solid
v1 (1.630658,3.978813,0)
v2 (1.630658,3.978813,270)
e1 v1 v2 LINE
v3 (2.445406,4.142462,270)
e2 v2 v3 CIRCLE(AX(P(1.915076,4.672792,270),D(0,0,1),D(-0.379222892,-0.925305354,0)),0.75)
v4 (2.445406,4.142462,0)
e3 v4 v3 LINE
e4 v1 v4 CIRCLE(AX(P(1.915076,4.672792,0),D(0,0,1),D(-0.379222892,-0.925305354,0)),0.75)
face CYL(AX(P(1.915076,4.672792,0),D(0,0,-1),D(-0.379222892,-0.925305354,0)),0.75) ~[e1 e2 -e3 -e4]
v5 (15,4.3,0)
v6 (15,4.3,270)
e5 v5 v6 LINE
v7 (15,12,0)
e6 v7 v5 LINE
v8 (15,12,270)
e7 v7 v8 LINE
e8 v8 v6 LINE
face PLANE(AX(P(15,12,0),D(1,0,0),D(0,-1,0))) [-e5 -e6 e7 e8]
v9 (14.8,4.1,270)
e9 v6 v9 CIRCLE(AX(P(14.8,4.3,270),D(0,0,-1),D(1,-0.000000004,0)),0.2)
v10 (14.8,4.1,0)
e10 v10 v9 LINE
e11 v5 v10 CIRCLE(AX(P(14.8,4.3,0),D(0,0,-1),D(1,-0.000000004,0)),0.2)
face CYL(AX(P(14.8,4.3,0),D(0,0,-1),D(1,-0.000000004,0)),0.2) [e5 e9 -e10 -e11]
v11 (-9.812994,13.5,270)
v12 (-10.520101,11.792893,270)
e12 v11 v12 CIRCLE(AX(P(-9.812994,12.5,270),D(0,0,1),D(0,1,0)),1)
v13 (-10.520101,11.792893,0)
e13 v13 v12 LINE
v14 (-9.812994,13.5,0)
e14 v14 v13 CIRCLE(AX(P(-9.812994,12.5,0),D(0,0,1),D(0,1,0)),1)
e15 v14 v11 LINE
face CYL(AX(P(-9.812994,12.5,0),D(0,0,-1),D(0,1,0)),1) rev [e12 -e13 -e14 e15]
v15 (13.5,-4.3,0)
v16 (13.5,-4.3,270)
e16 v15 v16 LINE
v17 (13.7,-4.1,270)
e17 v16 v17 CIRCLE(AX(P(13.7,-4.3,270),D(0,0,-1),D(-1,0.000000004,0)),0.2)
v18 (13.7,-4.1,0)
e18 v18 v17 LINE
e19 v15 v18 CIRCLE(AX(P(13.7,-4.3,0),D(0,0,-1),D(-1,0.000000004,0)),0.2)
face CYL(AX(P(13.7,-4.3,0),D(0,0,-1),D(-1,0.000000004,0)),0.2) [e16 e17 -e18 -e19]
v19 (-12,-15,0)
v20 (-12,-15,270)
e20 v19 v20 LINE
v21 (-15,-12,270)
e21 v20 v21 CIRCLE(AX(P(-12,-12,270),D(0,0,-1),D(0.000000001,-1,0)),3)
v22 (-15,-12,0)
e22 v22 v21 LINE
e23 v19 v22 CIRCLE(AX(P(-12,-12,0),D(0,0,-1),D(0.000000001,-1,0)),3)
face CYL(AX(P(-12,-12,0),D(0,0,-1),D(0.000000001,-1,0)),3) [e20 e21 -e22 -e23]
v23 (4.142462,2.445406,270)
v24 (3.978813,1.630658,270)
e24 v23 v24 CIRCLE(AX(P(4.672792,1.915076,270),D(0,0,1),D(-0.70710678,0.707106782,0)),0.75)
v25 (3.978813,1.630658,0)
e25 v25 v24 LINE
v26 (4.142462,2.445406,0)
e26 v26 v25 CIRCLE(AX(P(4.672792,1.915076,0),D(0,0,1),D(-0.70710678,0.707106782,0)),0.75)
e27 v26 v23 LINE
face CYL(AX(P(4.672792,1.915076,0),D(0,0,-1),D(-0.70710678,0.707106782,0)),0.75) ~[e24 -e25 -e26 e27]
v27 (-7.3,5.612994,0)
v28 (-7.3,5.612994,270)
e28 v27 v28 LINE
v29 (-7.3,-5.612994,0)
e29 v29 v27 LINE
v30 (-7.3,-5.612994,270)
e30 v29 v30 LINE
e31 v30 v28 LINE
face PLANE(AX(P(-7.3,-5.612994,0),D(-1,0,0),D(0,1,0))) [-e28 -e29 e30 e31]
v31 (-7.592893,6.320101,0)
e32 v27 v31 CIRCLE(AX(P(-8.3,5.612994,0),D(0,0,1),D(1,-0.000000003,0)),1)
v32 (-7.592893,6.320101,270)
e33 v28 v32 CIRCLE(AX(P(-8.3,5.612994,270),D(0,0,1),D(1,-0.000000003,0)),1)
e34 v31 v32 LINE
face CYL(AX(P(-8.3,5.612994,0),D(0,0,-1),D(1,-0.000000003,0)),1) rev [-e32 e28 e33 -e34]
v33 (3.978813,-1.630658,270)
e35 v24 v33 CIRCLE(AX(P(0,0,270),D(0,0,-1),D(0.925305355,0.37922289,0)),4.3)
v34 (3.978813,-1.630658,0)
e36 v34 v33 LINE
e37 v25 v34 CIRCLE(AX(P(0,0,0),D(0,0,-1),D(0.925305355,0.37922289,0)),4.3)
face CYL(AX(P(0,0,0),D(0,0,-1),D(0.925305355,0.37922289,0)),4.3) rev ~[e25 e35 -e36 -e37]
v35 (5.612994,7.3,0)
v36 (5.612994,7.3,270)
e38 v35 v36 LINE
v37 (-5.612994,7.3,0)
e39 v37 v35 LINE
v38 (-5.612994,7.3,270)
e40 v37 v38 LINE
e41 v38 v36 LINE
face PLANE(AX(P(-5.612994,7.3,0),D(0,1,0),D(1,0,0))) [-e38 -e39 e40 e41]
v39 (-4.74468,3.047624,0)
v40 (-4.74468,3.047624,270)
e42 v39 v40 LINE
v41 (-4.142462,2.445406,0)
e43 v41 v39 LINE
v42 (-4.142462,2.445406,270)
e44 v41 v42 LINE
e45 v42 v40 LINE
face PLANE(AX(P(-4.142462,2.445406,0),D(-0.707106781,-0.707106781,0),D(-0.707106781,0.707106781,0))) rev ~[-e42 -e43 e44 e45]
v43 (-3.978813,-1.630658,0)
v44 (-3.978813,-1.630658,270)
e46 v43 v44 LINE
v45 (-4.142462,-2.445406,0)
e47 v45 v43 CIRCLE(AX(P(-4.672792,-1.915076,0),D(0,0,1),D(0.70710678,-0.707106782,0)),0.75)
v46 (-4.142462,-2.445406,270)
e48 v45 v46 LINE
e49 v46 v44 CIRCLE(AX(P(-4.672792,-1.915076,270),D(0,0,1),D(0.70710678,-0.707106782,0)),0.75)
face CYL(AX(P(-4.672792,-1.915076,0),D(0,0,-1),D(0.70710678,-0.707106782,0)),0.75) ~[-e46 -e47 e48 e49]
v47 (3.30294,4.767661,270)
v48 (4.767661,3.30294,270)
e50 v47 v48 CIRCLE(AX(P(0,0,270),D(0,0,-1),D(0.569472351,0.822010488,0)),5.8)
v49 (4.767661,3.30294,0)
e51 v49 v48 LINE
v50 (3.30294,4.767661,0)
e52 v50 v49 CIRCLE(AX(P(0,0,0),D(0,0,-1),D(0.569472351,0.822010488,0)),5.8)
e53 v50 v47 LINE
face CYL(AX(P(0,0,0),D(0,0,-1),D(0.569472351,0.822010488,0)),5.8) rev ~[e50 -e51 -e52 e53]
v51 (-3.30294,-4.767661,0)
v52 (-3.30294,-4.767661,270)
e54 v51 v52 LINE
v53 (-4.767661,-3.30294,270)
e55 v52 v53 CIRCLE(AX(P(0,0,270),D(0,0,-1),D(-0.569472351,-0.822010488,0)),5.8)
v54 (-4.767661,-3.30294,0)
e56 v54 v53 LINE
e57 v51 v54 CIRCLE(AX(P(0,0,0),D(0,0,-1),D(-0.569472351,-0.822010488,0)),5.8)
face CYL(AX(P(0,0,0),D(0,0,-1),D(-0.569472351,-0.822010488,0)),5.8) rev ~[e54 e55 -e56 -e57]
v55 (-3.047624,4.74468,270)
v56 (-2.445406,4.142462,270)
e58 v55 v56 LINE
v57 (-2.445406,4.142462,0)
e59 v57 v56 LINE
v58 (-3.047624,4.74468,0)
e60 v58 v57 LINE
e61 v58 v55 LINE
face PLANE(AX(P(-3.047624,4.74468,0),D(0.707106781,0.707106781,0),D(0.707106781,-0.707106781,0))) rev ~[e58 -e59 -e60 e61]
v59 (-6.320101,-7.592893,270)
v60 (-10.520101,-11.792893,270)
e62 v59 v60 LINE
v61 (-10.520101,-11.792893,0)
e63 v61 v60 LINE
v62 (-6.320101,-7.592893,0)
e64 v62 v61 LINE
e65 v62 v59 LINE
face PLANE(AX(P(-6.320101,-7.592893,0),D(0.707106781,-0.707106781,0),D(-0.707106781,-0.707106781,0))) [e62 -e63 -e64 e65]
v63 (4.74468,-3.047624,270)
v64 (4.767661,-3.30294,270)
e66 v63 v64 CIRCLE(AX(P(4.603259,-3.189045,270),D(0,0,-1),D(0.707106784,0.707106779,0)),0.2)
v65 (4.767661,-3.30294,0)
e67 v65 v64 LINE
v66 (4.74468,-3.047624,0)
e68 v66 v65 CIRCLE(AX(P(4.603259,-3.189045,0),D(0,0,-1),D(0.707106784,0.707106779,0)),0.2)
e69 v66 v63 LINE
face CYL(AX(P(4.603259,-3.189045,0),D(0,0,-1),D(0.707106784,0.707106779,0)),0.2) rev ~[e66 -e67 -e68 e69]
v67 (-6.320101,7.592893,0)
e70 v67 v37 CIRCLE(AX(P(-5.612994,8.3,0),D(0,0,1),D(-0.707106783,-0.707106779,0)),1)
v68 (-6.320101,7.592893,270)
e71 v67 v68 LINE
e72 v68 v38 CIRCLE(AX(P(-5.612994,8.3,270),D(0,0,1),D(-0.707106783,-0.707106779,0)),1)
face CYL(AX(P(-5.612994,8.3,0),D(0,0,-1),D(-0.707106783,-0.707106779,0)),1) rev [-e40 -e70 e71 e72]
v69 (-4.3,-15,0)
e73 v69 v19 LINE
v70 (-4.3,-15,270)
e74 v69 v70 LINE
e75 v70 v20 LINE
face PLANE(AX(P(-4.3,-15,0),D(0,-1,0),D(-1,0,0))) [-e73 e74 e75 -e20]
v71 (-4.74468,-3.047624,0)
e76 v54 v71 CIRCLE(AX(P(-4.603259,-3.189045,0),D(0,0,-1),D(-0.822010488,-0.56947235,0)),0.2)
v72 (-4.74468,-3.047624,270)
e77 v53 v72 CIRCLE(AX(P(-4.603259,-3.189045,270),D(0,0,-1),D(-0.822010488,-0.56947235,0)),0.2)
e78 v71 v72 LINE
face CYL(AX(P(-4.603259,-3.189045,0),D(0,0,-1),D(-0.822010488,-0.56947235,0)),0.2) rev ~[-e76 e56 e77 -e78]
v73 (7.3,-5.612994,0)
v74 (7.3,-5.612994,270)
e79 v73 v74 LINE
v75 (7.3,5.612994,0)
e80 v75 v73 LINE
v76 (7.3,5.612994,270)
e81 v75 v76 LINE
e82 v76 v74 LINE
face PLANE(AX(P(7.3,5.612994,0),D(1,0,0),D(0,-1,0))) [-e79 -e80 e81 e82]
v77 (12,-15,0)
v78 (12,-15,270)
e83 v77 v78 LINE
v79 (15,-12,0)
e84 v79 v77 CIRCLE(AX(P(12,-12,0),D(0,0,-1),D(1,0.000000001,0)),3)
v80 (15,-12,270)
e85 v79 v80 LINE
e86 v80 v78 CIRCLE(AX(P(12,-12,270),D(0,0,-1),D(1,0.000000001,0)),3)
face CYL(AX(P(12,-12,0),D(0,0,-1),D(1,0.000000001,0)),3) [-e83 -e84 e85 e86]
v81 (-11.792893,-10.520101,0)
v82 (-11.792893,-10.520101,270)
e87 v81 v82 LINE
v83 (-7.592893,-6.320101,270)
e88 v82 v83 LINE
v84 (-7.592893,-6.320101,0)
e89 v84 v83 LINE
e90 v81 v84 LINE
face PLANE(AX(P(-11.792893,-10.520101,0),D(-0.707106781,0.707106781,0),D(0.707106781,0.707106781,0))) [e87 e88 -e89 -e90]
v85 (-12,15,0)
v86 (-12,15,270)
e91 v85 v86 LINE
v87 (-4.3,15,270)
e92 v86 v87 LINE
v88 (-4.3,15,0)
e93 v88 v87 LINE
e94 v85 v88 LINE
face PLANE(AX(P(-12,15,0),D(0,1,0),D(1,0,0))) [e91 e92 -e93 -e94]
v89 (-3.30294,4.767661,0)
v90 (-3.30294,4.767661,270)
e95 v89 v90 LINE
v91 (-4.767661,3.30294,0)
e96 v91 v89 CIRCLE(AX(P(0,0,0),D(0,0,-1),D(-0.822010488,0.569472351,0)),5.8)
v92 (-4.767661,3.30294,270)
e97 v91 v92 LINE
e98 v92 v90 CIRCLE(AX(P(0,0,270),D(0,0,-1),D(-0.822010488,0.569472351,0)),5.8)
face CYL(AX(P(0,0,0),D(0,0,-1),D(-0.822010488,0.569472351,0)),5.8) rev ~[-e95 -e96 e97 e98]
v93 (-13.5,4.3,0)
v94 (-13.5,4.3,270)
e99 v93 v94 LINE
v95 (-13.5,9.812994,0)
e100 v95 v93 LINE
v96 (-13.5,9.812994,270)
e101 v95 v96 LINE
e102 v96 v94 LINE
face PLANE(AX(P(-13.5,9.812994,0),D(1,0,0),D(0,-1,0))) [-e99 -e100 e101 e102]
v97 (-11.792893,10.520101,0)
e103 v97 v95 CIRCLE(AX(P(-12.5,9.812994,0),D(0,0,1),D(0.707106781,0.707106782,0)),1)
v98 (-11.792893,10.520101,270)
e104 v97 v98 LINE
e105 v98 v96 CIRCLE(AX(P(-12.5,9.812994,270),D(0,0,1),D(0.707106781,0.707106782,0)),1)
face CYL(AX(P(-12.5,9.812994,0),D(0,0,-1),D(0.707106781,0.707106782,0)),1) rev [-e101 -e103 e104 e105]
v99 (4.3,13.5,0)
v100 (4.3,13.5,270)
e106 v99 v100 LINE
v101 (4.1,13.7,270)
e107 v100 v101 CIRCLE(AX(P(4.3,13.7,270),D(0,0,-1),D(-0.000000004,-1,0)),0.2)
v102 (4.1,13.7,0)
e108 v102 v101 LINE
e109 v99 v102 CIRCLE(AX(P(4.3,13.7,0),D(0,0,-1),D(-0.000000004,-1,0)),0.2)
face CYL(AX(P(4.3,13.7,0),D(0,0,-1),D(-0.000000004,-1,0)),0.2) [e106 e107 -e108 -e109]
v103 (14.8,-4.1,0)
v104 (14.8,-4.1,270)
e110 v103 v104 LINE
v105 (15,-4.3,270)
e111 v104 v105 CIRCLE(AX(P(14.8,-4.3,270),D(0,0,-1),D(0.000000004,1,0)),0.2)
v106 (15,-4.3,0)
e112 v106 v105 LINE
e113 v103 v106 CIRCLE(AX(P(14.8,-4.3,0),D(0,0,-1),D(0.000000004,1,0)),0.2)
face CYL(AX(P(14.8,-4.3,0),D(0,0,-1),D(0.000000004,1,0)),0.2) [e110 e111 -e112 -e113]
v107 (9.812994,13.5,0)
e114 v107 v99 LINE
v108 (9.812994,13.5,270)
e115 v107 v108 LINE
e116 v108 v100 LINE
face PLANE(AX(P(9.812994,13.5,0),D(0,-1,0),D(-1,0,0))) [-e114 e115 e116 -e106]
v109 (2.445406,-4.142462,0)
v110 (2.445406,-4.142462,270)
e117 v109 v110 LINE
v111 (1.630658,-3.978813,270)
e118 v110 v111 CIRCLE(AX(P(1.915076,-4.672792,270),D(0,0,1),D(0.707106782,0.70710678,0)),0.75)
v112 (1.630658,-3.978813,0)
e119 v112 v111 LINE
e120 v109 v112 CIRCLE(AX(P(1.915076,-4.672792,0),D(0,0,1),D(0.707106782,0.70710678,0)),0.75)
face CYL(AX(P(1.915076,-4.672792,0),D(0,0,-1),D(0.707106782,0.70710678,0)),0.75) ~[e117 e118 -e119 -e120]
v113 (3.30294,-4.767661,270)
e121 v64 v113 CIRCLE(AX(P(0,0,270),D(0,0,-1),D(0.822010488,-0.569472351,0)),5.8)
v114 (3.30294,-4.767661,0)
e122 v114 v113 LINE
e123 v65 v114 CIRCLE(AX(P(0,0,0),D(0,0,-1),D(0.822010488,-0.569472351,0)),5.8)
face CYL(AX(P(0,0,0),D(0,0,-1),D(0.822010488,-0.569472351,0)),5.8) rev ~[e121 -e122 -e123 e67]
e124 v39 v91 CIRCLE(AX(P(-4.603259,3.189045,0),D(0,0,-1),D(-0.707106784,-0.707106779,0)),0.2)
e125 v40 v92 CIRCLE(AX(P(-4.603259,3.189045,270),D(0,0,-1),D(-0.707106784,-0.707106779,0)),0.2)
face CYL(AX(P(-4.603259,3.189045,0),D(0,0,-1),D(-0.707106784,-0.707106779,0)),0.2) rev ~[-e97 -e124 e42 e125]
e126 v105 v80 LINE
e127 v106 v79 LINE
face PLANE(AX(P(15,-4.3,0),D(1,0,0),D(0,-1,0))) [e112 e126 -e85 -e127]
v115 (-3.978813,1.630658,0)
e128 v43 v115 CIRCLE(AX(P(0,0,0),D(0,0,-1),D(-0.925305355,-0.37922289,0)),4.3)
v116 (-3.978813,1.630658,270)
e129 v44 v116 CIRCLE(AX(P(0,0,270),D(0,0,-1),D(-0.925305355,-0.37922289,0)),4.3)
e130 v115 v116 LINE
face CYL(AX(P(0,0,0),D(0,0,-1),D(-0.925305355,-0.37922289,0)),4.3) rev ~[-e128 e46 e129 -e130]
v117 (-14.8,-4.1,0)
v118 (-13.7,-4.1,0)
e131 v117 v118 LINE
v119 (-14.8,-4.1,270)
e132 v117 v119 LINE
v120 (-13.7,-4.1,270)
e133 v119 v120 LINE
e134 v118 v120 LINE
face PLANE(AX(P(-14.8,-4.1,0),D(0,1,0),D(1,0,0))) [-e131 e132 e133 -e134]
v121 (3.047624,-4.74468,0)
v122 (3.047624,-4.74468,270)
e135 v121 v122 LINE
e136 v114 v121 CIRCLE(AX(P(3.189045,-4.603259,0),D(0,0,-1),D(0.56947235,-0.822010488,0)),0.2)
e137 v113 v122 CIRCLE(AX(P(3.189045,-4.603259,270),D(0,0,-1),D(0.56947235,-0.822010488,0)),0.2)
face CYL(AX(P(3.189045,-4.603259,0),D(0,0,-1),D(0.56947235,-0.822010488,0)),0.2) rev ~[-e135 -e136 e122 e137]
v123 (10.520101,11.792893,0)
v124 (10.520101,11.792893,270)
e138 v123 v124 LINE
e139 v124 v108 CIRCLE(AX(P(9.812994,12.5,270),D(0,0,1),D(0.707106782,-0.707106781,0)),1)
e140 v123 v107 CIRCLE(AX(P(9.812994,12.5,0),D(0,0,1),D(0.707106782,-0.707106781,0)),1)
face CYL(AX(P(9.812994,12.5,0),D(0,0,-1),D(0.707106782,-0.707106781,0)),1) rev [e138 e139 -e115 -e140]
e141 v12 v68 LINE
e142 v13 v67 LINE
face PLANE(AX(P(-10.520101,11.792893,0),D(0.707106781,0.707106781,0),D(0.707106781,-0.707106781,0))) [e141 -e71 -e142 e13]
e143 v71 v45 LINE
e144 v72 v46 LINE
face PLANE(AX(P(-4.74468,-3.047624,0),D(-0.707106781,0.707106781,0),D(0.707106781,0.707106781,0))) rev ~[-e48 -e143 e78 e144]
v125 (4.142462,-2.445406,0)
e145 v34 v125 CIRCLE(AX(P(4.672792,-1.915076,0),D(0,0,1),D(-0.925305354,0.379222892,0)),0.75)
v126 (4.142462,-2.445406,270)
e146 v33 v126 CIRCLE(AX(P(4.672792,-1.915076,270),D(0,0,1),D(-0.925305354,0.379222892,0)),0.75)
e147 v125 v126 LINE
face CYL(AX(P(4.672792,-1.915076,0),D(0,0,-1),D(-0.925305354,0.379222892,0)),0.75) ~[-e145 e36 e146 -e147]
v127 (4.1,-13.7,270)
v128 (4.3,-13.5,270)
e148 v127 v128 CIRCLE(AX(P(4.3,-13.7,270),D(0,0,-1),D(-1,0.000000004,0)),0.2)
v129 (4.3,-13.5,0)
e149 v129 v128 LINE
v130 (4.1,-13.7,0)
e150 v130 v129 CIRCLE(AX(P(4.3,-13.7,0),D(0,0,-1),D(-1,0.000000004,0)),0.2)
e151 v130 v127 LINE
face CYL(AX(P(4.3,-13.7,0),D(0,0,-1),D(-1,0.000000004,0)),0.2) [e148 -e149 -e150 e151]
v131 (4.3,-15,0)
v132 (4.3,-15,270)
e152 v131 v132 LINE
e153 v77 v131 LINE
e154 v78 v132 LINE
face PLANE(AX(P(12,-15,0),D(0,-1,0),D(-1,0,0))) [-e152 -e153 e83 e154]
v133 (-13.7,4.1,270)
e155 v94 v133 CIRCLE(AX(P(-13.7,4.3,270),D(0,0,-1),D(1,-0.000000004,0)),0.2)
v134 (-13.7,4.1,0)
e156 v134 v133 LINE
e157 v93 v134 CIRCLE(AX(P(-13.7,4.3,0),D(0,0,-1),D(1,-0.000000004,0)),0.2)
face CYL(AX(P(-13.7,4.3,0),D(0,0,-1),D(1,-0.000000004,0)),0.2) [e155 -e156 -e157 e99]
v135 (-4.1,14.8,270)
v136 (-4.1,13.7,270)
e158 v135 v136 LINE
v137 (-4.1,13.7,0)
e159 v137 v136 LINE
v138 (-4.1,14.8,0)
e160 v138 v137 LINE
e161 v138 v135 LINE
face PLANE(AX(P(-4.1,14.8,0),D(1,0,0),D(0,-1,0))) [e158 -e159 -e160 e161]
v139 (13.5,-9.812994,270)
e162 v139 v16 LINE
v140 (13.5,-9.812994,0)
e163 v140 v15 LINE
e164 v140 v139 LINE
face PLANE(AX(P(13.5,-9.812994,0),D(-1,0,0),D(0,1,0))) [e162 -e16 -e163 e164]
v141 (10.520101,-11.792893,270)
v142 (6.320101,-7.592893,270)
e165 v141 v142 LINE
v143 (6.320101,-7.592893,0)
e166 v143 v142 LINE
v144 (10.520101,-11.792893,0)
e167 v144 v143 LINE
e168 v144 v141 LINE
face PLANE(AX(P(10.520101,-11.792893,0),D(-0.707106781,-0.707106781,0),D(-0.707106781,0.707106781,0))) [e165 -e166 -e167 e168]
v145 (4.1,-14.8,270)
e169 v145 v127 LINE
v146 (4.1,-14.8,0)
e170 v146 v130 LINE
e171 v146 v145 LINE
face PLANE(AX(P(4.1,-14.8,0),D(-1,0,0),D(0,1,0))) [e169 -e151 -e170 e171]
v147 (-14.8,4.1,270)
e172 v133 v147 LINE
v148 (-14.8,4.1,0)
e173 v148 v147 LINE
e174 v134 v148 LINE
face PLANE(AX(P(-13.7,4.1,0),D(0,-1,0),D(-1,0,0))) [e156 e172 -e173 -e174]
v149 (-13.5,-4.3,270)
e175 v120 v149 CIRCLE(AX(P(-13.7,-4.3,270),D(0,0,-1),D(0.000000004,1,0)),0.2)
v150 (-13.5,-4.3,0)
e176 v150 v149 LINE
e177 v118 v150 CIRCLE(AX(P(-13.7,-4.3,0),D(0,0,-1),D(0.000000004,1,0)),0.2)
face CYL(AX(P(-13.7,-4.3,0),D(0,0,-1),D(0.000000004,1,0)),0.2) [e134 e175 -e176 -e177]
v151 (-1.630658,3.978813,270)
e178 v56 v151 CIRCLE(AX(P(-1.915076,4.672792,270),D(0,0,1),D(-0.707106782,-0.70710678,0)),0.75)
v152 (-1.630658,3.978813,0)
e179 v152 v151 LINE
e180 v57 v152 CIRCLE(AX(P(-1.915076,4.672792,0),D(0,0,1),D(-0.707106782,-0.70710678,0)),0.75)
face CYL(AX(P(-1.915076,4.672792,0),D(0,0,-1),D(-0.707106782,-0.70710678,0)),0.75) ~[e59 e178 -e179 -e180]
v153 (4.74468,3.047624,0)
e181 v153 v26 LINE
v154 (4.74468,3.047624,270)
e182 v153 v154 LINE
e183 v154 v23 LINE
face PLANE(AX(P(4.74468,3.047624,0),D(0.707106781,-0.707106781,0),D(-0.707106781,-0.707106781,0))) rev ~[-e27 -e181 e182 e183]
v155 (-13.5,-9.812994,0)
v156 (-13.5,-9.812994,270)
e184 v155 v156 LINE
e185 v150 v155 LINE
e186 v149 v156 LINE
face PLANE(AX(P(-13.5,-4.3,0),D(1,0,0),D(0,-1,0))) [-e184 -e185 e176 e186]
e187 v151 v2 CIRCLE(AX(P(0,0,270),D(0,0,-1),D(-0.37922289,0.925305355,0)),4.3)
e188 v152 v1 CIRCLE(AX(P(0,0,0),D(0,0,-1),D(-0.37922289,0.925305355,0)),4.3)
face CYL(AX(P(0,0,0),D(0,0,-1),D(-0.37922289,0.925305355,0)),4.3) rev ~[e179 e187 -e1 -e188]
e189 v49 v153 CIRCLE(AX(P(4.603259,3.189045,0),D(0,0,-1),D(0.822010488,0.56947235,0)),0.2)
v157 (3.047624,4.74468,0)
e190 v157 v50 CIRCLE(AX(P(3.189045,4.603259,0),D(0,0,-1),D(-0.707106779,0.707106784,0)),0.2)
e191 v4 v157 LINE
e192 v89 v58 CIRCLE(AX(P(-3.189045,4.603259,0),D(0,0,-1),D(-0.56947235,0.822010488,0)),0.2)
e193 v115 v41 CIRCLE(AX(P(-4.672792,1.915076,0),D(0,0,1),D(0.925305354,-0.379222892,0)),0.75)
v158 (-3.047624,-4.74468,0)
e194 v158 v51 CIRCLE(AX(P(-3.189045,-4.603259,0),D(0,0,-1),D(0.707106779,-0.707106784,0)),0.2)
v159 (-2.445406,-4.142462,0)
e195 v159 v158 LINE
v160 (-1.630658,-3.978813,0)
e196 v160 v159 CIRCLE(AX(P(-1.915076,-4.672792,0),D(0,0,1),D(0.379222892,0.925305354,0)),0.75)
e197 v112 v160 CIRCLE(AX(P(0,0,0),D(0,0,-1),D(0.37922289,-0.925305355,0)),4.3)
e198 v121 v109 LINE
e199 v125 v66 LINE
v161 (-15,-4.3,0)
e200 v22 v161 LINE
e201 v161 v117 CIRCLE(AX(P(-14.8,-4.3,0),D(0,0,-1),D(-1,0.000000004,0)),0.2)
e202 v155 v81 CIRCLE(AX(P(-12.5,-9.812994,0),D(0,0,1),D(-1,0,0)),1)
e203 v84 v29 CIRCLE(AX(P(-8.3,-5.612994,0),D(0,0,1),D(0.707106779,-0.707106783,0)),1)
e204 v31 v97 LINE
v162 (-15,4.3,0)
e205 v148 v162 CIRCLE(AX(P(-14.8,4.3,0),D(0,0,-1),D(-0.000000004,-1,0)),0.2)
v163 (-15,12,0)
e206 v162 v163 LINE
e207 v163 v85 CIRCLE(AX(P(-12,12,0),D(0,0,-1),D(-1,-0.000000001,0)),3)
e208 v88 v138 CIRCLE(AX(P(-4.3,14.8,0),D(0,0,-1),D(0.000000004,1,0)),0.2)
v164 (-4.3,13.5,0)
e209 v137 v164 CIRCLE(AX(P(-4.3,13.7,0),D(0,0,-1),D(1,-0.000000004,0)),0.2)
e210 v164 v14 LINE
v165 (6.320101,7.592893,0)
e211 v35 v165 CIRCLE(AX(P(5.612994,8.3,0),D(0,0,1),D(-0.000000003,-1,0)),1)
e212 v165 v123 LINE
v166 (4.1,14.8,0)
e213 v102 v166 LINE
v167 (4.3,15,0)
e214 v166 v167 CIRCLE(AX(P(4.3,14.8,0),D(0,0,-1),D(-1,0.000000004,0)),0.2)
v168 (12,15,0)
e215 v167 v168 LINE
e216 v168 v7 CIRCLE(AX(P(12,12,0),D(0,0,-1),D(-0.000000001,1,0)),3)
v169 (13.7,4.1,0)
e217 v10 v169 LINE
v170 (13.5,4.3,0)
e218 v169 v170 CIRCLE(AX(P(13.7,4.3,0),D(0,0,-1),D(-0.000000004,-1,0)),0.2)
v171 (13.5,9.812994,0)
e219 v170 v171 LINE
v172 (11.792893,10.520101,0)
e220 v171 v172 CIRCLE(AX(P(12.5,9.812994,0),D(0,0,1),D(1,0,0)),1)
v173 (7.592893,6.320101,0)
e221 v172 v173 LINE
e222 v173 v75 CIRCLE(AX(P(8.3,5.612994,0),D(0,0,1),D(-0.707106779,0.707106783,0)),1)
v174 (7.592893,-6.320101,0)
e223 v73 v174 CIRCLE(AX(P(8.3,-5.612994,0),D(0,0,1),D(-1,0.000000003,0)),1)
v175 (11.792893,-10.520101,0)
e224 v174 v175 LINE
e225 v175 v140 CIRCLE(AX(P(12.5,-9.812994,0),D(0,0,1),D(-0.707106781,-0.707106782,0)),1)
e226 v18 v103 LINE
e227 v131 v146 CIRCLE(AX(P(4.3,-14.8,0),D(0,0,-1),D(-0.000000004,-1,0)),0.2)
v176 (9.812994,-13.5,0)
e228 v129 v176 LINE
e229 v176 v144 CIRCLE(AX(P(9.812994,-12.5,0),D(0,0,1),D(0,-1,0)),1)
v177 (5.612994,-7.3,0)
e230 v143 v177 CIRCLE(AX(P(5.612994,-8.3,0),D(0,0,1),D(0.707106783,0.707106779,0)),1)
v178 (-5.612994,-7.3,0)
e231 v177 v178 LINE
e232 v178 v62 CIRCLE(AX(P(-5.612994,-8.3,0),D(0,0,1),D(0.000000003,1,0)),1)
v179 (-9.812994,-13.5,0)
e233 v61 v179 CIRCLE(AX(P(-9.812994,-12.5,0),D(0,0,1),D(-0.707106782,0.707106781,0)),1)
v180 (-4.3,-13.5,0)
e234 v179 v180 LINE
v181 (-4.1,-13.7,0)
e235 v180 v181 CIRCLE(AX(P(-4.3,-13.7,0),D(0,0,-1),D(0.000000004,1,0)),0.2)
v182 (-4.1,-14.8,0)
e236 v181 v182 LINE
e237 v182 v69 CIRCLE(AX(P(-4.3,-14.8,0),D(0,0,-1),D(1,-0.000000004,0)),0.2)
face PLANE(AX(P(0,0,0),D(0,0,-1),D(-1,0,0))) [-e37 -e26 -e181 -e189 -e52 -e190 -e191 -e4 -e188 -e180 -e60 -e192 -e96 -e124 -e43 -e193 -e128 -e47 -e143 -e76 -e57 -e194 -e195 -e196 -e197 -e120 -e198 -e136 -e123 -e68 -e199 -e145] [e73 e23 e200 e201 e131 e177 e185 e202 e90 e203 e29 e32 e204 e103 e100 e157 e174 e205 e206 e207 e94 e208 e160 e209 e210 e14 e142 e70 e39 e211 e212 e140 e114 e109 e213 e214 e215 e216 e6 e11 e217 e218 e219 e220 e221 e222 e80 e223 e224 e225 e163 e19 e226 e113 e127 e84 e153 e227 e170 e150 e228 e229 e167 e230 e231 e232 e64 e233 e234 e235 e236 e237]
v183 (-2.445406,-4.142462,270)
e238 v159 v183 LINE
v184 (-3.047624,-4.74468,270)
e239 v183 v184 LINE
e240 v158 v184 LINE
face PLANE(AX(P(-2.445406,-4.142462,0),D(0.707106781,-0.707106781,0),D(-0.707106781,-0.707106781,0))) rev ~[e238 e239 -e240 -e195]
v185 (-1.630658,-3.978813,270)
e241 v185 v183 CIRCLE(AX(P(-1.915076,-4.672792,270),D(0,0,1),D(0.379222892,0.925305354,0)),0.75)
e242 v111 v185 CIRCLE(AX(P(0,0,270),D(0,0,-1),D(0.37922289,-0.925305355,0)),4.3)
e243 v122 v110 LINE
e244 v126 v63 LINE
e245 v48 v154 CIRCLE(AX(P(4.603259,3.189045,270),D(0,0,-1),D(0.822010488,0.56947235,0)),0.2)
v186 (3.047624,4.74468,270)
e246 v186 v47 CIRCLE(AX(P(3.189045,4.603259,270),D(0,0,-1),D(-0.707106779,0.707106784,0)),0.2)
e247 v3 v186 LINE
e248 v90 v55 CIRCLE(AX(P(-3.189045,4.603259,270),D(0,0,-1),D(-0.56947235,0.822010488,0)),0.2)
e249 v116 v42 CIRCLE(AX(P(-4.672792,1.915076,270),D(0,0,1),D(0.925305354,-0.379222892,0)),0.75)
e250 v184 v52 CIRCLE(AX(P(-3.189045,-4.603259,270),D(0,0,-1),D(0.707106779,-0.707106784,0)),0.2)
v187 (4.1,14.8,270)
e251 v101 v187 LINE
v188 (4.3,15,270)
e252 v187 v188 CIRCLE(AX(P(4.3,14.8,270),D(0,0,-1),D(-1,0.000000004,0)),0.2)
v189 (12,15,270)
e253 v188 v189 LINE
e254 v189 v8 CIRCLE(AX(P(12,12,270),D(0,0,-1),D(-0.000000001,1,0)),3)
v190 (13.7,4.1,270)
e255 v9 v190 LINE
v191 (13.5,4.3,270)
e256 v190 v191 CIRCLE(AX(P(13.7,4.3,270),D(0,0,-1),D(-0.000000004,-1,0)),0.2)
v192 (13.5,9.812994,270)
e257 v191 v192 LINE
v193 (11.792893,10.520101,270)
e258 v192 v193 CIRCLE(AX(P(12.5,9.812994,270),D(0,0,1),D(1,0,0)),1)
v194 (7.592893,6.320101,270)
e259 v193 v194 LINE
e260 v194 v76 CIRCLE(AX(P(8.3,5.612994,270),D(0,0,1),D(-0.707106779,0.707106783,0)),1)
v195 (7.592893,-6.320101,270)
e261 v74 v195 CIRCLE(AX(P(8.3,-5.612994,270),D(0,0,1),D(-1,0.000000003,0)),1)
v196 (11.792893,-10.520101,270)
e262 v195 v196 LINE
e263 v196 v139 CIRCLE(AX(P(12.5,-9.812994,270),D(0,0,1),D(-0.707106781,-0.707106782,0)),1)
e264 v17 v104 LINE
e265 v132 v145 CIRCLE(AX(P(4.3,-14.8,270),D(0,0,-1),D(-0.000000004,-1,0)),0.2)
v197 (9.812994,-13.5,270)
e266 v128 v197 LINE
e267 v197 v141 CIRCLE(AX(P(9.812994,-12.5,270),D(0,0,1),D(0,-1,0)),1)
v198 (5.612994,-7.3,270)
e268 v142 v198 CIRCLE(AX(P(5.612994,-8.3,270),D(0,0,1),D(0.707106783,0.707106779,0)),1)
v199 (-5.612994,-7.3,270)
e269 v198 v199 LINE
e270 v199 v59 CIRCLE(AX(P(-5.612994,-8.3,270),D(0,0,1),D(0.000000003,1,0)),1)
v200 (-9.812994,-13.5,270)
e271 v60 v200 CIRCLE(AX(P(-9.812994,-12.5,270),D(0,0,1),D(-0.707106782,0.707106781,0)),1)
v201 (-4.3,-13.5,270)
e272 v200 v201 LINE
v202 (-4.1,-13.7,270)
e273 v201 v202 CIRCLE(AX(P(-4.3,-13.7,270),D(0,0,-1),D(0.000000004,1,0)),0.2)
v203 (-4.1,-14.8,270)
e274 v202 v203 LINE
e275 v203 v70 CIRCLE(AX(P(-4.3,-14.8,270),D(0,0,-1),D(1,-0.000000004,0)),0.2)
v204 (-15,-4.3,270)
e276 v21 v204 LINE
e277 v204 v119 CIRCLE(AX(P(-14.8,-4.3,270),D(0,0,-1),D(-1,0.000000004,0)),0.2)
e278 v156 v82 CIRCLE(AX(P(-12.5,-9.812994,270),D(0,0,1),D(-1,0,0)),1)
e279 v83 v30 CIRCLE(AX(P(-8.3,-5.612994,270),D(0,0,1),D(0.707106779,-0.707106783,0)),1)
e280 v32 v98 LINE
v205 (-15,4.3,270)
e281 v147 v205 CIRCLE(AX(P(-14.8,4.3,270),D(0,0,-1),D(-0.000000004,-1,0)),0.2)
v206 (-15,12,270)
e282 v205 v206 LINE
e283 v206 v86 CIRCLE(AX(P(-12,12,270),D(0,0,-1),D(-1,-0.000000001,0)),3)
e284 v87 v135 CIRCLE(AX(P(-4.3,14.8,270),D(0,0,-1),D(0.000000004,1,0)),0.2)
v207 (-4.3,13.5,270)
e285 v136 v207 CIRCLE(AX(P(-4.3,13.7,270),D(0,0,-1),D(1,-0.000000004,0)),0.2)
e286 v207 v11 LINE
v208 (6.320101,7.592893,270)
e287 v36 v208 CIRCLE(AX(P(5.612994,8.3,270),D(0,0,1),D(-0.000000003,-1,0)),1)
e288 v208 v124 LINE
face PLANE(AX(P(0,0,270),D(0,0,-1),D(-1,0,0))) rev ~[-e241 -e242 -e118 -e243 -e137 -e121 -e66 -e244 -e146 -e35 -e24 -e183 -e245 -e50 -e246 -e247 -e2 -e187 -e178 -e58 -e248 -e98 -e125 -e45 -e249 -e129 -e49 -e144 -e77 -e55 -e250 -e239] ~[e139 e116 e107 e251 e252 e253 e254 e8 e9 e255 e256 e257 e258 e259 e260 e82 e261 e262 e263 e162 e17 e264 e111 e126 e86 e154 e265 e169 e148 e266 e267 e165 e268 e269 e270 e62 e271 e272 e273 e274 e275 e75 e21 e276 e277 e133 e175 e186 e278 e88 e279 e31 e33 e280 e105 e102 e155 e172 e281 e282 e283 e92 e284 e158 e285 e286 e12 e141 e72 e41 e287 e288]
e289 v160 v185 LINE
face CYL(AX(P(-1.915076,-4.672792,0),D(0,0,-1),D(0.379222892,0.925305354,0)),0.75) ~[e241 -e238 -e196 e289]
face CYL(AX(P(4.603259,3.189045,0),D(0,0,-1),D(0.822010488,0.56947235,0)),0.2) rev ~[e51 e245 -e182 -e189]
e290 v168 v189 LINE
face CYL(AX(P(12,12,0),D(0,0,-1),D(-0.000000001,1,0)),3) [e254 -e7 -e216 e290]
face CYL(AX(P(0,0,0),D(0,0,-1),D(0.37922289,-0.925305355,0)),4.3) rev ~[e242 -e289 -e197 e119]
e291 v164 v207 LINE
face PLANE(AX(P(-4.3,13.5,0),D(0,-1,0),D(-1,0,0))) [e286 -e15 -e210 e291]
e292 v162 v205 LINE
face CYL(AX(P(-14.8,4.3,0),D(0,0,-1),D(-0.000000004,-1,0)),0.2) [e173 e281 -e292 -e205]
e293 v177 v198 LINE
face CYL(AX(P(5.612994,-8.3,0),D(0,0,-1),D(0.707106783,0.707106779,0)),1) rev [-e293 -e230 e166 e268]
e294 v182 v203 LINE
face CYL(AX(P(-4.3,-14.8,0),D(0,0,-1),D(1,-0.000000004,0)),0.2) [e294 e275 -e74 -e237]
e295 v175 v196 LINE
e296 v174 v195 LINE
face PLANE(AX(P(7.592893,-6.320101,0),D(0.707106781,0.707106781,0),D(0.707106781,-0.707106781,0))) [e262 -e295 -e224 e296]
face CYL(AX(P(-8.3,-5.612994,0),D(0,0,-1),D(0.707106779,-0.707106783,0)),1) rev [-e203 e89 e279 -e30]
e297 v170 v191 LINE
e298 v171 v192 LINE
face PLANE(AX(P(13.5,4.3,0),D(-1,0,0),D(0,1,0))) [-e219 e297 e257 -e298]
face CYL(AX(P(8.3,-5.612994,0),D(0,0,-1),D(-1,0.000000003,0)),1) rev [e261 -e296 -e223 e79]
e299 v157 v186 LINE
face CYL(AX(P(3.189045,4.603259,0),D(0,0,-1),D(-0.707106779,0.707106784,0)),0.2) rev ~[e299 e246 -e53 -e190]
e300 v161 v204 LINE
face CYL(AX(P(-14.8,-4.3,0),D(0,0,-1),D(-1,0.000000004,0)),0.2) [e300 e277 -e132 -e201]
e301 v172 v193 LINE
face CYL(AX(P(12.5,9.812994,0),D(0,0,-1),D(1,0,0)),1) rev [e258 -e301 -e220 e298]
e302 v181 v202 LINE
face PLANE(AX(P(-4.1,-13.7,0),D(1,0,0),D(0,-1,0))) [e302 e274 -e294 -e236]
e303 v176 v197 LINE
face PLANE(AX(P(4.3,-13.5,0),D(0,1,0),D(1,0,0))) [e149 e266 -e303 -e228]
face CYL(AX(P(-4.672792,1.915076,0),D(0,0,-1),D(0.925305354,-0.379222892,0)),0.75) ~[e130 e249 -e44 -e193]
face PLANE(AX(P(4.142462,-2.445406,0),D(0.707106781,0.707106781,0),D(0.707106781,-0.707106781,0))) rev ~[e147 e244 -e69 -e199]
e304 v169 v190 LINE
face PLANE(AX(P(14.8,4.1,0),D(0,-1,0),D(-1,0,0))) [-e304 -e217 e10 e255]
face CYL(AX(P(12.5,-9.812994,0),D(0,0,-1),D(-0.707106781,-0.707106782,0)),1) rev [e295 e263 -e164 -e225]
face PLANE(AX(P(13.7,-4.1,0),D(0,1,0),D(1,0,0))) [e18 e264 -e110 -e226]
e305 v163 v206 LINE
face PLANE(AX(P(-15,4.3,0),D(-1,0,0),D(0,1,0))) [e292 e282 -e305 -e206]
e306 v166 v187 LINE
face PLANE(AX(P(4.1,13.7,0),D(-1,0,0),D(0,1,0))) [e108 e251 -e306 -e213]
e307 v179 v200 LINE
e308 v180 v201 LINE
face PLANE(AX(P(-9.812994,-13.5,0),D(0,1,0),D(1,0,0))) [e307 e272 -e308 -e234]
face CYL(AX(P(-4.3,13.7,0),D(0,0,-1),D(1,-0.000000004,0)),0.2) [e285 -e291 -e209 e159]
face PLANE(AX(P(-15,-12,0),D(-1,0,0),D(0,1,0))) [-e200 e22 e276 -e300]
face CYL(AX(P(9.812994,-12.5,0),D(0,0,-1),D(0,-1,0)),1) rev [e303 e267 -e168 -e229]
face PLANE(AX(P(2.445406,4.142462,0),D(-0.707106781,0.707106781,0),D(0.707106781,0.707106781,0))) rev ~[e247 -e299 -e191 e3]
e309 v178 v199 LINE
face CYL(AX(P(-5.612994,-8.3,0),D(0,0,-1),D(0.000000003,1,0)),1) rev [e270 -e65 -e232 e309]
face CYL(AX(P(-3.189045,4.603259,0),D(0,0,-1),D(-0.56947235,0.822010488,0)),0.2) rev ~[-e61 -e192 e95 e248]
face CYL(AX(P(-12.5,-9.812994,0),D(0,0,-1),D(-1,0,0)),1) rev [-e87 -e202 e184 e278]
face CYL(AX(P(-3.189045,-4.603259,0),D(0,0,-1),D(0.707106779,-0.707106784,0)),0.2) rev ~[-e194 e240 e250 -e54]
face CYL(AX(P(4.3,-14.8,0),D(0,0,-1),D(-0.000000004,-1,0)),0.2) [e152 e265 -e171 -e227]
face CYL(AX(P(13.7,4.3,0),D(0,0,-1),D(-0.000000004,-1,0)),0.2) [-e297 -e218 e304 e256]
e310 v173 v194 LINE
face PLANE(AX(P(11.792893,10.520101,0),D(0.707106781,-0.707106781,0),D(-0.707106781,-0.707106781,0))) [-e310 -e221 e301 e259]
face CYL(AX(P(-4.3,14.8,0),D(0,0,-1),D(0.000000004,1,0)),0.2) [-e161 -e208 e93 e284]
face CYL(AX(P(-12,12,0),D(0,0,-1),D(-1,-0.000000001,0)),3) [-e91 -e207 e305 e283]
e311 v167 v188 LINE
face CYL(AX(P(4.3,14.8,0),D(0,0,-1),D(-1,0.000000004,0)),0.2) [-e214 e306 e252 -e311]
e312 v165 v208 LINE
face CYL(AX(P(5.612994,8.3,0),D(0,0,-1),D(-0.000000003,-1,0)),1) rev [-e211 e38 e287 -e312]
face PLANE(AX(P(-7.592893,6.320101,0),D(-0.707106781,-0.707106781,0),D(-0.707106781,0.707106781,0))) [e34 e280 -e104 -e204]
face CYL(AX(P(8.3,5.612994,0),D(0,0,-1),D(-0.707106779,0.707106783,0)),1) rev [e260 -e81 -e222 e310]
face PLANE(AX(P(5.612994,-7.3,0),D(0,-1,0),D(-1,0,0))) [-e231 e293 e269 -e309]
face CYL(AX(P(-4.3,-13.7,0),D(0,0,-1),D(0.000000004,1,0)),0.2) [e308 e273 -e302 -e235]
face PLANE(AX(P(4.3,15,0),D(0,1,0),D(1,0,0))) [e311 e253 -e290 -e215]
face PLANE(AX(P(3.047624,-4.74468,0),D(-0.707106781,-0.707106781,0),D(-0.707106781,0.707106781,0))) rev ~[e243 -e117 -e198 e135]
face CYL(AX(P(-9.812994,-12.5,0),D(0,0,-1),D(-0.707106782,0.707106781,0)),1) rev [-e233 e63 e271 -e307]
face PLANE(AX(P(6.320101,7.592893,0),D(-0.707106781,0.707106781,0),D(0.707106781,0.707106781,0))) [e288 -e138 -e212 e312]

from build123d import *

# Parameters (mm, degrees)
EXTRUDE1_DEPTH = 270


with BuildPart() as part:
    # Sketch1 → Extrude1 (new body)
    with BuildSketch(Plane.XY):
        with BuildLine():
            Line((-12, 15), (-4.3, 15))
            ThreePointArc((-4.3, 15), (-4.158578644, 14.941421356), (-4.1, 14.8))
            Line((-4.1, 14.8), (-4.1, 13.7))
            ThreePointArc((-4.1, 13.7), (-4.158578644, 13.558578644), (-4.3, 13.5))
            Line((-4.3, 13.5), (-9.812994231, 13.5))
            ThreePointArc((-9.812994231, 13.5), (-10.736873764, 12.882683432), (-10.520101013, 11.792893219))
            Line((-10.520101013, 11.792893219), (-6.320101013, 7.592893219))
            ThreePointArc((-6.320101013, 7.592893219), (-5.995677664, 7.376120467), (-5.612994231, 7.3))
            Line((-5.612994231, 7.3), (5.612994231, 7.3))
            ThreePointArc((5.612994231, 7.3), (5.995677664, 7.376120467), (6.320101013, 7.592893219))
            Line((6.320101013, 7.592893219), (10.520101013, 11.792893219))
            ThreePointArc((10.520101013, 11.792893219), (10.736873764, 12.882683432), (9.812994231, 13.5))
            Line((9.812994231, 13.5), (4.3, 13.5))
            ThreePointArc((4.3, 13.5), (4.158578644, 13.558578644), (4.1, 13.7))
            Line((4.1, 13.7), (4.1, 14.8))
            ThreePointArc((4.1, 14.8), (4.158578644, 14.941421356), (4.3, 15))
            Line((4.3, 15), (12, 15))
            ThreePointArc((12, 15), (14.121320344, 14.121320344), (15, 12))
            Line((15, 12), (15, 4.3))
            ThreePointArc((15, 4.3), (14.941421356, 4.158578644), (14.8, 4.1))
            Line((14.8, 4.1), (13.7, 4.1))
            ThreePointArc((13.7, 4.1), (13.558578644, 4.158578644), (13.5, 4.3))
            Line((13.5, 4.3), (13.5, 9.812994231))
            ThreePointArc((13.5, 9.812994231), (12.882683432, 10.736873764), (11.792893219, 10.520101013))
            Line((11.792893219, 10.520101013), (7.592893219, 6.320101013))
            ThreePointArc((7.592893219, 6.320101013), (7.376120467, 5.995677664), (7.3, 5.612994231))
            Line((7.3, 5.612994231), (7.3, -5.612994231))
            ThreePointArc((7.3, -5.612994231), (7.376120467, -5.995677664), (7.592893219, -6.320101013))
            Line((7.592893219, -6.320101013), (11.792893219, -10.520101013))
            ThreePointArc((11.792893219, -10.520101013), (12.882683432, -10.736873764), (13.5, -9.812994231))
            Line((13.5, -9.812994231), (13.5, -4.3))
            ThreePointArc((13.5, -4.3), (13.558578644, -4.158578644), (13.7, -4.1))
            Line((13.7, -4.1), (14.8, -4.1))
            ThreePointArc((14.8, -4.1), (14.941421356, -4.158578644), (15, -4.3))
            Line((15, -4.3), (15, -12))
            ThreePointArc((15, -12), (14.121320344, -14.121320344), (12, -15))
            Line((12, -15), (4.3, -15))
            ThreePointArc((4.3, -15), (4.158578644, -14.941421356), (4.1, -14.8))
            Line((4.1, -14.8), (4.1, -13.7))
            ThreePointArc((4.1, -13.7), (4.158578644, -13.558578644), (4.3, -13.5))
            Line((4.3, -13.5), (9.812994231, -13.5))
            ThreePointArc((9.812994231, -13.5), (10.736873764, -12.882683432), (10.520101013, -11.792893219))
            Line((10.520101013, -11.792893219), (6.320101013, -7.592893219))
            ThreePointArc((6.320101013, -7.592893219), (5.995677664, -7.376120467), (5.612994231, -7.3))
            Line((5.612994231, -7.3), (-5.612994231, -7.3))
            ThreePointArc((-5.612994231, -7.3), (-5.995677664, -7.376120467), (-6.320101013, -7.592893219))
            Line((-6.320101013, -7.592893219), (-10.520101013, -11.792893219))
            ThreePointArc((-10.520101013, -11.792893219), (-10.736873764, -12.882683432), (-9.812994231, -13.5))
            Line((-9.812994231, -13.5), (-4.3, -13.5))
            ThreePointArc((-4.3, -13.5), (-4.158578644, -13.558578644), (-4.1, -13.7))
            Line((-4.1, -13.7), (-4.1, -14.8))
            ThreePointArc((-4.1, -14.8), (-4.158578644, -14.941421356), (-4.3, -15))
            Line((-4.3, -15), (-12, -15))
            ThreePointArc((-12, -15), (-14.121320344, -14.121320344), (-15, -12))
            Line((-15, -12), (-15, -4.3))
            ThreePointArc((-15, -4.3), (-14.941421356, -4.158578644), (-14.8, -4.1))
            Line((-14.8, -4.1), (-13.7, -4.1))
            ThreePointArc((-13.7, -4.1), (-13.558578644, -4.158578644), (-13.5, -4.3))
            Line((-13.5, -4.3), (-13.5, -9.812994231))
            ThreePointArc((-13.5, -9.812994231), (-12.882683432, -10.736873764), (-11.792893219, -10.520101013))
            Line((-11.792893219, -10.520101013), (-7.592893219, -6.320101013))
            ThreePointArc((-7.592893219, -6.320101013), (-7.376120467, -5.995677664), (-7.3, -5.612994231))
            Line((-7.3, -5.612994231), (-7.3, 5.612994231))
            ThreePointArc((-7.3, 5.612994231), (-7.376120467, 5.995677664), (-7.592893219, 6.320101013))
            Line((-7.592893219, 6.320101013), (-11.792893219, 10.520101013))
            ThreePointArc((-11.792893219, 10.520101013), (-12.882683432, 10.736873764), (-13.5, 9.812994231))
            Line((-13.5, 9.812994231), (-13.5, 4.3))
            ThreePointArc((-13.5, 4.3), (-13.558578644, 4.158578644), (-13.7, 4.1))
            Line((-13.7, 4.1), (-14.8, 4.1))
            ThreePointArc((-14.8, 4.1), (-14.941421356, 4.158578644), (-15, 4.3))
            Line((-15, 4.3), (-15, 12))
            ThreePointArc((-15, 12), (-14.121320344, 14.121320344), (-12, 15))
        make_face()
        with BuildLine():
            Line((-3.04762381, 4.744680085), (-2.445405681, 4.142461956))
            ThreePointArc((-2.445405681, 4.142461956), (-2.06276965, 3.937478186), (-1.630658427, 3.978813026))
            ThreePointArc((-1.630658427, 3.978813026), (0, 4.3), (1.630658427, 3.978813026))
            ThreePointArc((1.630658427, 3.978813026), (2.06276965, 3.937478186), (2.445405681, 4.142461956))
            Line((2.445405681, 4.142461956), (3.04762381, 4.744680085))
            ThreePointArc((3.04762381, 4.744680085), (3.171115834, 4.802453455), (3.302939637, 4.767660826))
            ThreePointArc((3.302939637, 4.767660826), (4.101219331, 4.101219331), (4.767660826, 3.302939637))
            ThreePointArc((4.767660826, 3.302939637), (4.802453455, 3.171115834), (4.744680085, 3.04762381))
            Line((4.744680085, 3.04762381), (4.142461956, 2.445405681))
            ThreePointArc((4.142461956, 2.445405681), (3.937478186, 2.06276965), (3.978813026, 1.630658427))
            ThreePointArc((3.978813026, 1.630658427), (4.3, 0), (3.978813026, -1.630658427))
            ThreePointArc((3.978813026, -1.630658427), (3.937478186, -2.06276965), (4.142461956, -2.445405681))
            Line((4.142461956, -2.445405681), (4.744680085, -3.04762381))
            ThreePointArc((4.744680085, -3.04762381), (4.802453455, -3.171115834), (4.767660826, -3.302939637))
            ThreePointArc((4.767660826, -3.302939637), (4.101219331, -4.101219331), (3.302939637, -4.767660826))
            ThreePointArc((3.302939637, -4.767660826), (3.171115834, -4.802453455), (3.04762381, -4.744680085))
            Line((3.04762381, -4.744680085), (2.445405681, -4.142461956))
            ThreePointArc((2.445405681, -4.142461956), (2.06276965, -3.937478186), (1.630658427, -3.978813026))
            ThreePointArc((1.630658427, -3.978813026), (0, -4.3), (-1.630658427, -3.978813026))
            ThreePointArc((-1.630658427, -3.978813026), (-2.06276965, -3.937478186), (-2.445405681, -4.142461956))
            Line((-2.445405681, -4.142461956), (-3.04762381, -4.744680085))
            ThreePointArc((-3.04762381, -4.744680085), (-3.171115834, -4.802453455), (-3.302939637, -4.767660826))
            ThreePointArc((-3.302939637, -4.767660826), (-4.101219331, -4.101219331), (-4.767660826, -3.302939637))
            ThreePointArc((-4.767660826, -3.302939637), (-4.802453455, -3.171115834), (-4.744680085, -3.04762381))
            Line((-4.744680085, -3.04762381), (-4.142461956, -2.445405681))
            ThreePointArc((-4.142461956, -2.445405681), (-3.937478186, -2.06276965), (-3.978813026, -1.630658427))
            ThreePointArc((-3.978813026, -1.630658427), (-4.3, 0), (-3.978813026, 1.630658427))
            ThreePointArc((-3.978813026, 1.630658427), (-3.937478186, 2.06276965), (-4.142461956, 2.445405681))
            Line((-4.142461956, 2.445405681), (-4.744680085, 3.04762381))
            ThreePointArc((-4.744680085, 3.04762381), (-4.802453455, 3.171115834), (-4.767660826, 3.302939637))
            ThreePointArc((-4.767660826, 3.302939637), (-4.101219331, 4.101219331), (-3.302939637, 4.767660826))
            ThreePointArc((-3.302939637, 4.767660826), (-3.171115834, 4.802453455), (-3.04762381, 4.744680085))
        make_face(mode=Mode.SUBTRACT)
    extrude(amount=EXTRUDE1_DEPTH)


solid = part.part
